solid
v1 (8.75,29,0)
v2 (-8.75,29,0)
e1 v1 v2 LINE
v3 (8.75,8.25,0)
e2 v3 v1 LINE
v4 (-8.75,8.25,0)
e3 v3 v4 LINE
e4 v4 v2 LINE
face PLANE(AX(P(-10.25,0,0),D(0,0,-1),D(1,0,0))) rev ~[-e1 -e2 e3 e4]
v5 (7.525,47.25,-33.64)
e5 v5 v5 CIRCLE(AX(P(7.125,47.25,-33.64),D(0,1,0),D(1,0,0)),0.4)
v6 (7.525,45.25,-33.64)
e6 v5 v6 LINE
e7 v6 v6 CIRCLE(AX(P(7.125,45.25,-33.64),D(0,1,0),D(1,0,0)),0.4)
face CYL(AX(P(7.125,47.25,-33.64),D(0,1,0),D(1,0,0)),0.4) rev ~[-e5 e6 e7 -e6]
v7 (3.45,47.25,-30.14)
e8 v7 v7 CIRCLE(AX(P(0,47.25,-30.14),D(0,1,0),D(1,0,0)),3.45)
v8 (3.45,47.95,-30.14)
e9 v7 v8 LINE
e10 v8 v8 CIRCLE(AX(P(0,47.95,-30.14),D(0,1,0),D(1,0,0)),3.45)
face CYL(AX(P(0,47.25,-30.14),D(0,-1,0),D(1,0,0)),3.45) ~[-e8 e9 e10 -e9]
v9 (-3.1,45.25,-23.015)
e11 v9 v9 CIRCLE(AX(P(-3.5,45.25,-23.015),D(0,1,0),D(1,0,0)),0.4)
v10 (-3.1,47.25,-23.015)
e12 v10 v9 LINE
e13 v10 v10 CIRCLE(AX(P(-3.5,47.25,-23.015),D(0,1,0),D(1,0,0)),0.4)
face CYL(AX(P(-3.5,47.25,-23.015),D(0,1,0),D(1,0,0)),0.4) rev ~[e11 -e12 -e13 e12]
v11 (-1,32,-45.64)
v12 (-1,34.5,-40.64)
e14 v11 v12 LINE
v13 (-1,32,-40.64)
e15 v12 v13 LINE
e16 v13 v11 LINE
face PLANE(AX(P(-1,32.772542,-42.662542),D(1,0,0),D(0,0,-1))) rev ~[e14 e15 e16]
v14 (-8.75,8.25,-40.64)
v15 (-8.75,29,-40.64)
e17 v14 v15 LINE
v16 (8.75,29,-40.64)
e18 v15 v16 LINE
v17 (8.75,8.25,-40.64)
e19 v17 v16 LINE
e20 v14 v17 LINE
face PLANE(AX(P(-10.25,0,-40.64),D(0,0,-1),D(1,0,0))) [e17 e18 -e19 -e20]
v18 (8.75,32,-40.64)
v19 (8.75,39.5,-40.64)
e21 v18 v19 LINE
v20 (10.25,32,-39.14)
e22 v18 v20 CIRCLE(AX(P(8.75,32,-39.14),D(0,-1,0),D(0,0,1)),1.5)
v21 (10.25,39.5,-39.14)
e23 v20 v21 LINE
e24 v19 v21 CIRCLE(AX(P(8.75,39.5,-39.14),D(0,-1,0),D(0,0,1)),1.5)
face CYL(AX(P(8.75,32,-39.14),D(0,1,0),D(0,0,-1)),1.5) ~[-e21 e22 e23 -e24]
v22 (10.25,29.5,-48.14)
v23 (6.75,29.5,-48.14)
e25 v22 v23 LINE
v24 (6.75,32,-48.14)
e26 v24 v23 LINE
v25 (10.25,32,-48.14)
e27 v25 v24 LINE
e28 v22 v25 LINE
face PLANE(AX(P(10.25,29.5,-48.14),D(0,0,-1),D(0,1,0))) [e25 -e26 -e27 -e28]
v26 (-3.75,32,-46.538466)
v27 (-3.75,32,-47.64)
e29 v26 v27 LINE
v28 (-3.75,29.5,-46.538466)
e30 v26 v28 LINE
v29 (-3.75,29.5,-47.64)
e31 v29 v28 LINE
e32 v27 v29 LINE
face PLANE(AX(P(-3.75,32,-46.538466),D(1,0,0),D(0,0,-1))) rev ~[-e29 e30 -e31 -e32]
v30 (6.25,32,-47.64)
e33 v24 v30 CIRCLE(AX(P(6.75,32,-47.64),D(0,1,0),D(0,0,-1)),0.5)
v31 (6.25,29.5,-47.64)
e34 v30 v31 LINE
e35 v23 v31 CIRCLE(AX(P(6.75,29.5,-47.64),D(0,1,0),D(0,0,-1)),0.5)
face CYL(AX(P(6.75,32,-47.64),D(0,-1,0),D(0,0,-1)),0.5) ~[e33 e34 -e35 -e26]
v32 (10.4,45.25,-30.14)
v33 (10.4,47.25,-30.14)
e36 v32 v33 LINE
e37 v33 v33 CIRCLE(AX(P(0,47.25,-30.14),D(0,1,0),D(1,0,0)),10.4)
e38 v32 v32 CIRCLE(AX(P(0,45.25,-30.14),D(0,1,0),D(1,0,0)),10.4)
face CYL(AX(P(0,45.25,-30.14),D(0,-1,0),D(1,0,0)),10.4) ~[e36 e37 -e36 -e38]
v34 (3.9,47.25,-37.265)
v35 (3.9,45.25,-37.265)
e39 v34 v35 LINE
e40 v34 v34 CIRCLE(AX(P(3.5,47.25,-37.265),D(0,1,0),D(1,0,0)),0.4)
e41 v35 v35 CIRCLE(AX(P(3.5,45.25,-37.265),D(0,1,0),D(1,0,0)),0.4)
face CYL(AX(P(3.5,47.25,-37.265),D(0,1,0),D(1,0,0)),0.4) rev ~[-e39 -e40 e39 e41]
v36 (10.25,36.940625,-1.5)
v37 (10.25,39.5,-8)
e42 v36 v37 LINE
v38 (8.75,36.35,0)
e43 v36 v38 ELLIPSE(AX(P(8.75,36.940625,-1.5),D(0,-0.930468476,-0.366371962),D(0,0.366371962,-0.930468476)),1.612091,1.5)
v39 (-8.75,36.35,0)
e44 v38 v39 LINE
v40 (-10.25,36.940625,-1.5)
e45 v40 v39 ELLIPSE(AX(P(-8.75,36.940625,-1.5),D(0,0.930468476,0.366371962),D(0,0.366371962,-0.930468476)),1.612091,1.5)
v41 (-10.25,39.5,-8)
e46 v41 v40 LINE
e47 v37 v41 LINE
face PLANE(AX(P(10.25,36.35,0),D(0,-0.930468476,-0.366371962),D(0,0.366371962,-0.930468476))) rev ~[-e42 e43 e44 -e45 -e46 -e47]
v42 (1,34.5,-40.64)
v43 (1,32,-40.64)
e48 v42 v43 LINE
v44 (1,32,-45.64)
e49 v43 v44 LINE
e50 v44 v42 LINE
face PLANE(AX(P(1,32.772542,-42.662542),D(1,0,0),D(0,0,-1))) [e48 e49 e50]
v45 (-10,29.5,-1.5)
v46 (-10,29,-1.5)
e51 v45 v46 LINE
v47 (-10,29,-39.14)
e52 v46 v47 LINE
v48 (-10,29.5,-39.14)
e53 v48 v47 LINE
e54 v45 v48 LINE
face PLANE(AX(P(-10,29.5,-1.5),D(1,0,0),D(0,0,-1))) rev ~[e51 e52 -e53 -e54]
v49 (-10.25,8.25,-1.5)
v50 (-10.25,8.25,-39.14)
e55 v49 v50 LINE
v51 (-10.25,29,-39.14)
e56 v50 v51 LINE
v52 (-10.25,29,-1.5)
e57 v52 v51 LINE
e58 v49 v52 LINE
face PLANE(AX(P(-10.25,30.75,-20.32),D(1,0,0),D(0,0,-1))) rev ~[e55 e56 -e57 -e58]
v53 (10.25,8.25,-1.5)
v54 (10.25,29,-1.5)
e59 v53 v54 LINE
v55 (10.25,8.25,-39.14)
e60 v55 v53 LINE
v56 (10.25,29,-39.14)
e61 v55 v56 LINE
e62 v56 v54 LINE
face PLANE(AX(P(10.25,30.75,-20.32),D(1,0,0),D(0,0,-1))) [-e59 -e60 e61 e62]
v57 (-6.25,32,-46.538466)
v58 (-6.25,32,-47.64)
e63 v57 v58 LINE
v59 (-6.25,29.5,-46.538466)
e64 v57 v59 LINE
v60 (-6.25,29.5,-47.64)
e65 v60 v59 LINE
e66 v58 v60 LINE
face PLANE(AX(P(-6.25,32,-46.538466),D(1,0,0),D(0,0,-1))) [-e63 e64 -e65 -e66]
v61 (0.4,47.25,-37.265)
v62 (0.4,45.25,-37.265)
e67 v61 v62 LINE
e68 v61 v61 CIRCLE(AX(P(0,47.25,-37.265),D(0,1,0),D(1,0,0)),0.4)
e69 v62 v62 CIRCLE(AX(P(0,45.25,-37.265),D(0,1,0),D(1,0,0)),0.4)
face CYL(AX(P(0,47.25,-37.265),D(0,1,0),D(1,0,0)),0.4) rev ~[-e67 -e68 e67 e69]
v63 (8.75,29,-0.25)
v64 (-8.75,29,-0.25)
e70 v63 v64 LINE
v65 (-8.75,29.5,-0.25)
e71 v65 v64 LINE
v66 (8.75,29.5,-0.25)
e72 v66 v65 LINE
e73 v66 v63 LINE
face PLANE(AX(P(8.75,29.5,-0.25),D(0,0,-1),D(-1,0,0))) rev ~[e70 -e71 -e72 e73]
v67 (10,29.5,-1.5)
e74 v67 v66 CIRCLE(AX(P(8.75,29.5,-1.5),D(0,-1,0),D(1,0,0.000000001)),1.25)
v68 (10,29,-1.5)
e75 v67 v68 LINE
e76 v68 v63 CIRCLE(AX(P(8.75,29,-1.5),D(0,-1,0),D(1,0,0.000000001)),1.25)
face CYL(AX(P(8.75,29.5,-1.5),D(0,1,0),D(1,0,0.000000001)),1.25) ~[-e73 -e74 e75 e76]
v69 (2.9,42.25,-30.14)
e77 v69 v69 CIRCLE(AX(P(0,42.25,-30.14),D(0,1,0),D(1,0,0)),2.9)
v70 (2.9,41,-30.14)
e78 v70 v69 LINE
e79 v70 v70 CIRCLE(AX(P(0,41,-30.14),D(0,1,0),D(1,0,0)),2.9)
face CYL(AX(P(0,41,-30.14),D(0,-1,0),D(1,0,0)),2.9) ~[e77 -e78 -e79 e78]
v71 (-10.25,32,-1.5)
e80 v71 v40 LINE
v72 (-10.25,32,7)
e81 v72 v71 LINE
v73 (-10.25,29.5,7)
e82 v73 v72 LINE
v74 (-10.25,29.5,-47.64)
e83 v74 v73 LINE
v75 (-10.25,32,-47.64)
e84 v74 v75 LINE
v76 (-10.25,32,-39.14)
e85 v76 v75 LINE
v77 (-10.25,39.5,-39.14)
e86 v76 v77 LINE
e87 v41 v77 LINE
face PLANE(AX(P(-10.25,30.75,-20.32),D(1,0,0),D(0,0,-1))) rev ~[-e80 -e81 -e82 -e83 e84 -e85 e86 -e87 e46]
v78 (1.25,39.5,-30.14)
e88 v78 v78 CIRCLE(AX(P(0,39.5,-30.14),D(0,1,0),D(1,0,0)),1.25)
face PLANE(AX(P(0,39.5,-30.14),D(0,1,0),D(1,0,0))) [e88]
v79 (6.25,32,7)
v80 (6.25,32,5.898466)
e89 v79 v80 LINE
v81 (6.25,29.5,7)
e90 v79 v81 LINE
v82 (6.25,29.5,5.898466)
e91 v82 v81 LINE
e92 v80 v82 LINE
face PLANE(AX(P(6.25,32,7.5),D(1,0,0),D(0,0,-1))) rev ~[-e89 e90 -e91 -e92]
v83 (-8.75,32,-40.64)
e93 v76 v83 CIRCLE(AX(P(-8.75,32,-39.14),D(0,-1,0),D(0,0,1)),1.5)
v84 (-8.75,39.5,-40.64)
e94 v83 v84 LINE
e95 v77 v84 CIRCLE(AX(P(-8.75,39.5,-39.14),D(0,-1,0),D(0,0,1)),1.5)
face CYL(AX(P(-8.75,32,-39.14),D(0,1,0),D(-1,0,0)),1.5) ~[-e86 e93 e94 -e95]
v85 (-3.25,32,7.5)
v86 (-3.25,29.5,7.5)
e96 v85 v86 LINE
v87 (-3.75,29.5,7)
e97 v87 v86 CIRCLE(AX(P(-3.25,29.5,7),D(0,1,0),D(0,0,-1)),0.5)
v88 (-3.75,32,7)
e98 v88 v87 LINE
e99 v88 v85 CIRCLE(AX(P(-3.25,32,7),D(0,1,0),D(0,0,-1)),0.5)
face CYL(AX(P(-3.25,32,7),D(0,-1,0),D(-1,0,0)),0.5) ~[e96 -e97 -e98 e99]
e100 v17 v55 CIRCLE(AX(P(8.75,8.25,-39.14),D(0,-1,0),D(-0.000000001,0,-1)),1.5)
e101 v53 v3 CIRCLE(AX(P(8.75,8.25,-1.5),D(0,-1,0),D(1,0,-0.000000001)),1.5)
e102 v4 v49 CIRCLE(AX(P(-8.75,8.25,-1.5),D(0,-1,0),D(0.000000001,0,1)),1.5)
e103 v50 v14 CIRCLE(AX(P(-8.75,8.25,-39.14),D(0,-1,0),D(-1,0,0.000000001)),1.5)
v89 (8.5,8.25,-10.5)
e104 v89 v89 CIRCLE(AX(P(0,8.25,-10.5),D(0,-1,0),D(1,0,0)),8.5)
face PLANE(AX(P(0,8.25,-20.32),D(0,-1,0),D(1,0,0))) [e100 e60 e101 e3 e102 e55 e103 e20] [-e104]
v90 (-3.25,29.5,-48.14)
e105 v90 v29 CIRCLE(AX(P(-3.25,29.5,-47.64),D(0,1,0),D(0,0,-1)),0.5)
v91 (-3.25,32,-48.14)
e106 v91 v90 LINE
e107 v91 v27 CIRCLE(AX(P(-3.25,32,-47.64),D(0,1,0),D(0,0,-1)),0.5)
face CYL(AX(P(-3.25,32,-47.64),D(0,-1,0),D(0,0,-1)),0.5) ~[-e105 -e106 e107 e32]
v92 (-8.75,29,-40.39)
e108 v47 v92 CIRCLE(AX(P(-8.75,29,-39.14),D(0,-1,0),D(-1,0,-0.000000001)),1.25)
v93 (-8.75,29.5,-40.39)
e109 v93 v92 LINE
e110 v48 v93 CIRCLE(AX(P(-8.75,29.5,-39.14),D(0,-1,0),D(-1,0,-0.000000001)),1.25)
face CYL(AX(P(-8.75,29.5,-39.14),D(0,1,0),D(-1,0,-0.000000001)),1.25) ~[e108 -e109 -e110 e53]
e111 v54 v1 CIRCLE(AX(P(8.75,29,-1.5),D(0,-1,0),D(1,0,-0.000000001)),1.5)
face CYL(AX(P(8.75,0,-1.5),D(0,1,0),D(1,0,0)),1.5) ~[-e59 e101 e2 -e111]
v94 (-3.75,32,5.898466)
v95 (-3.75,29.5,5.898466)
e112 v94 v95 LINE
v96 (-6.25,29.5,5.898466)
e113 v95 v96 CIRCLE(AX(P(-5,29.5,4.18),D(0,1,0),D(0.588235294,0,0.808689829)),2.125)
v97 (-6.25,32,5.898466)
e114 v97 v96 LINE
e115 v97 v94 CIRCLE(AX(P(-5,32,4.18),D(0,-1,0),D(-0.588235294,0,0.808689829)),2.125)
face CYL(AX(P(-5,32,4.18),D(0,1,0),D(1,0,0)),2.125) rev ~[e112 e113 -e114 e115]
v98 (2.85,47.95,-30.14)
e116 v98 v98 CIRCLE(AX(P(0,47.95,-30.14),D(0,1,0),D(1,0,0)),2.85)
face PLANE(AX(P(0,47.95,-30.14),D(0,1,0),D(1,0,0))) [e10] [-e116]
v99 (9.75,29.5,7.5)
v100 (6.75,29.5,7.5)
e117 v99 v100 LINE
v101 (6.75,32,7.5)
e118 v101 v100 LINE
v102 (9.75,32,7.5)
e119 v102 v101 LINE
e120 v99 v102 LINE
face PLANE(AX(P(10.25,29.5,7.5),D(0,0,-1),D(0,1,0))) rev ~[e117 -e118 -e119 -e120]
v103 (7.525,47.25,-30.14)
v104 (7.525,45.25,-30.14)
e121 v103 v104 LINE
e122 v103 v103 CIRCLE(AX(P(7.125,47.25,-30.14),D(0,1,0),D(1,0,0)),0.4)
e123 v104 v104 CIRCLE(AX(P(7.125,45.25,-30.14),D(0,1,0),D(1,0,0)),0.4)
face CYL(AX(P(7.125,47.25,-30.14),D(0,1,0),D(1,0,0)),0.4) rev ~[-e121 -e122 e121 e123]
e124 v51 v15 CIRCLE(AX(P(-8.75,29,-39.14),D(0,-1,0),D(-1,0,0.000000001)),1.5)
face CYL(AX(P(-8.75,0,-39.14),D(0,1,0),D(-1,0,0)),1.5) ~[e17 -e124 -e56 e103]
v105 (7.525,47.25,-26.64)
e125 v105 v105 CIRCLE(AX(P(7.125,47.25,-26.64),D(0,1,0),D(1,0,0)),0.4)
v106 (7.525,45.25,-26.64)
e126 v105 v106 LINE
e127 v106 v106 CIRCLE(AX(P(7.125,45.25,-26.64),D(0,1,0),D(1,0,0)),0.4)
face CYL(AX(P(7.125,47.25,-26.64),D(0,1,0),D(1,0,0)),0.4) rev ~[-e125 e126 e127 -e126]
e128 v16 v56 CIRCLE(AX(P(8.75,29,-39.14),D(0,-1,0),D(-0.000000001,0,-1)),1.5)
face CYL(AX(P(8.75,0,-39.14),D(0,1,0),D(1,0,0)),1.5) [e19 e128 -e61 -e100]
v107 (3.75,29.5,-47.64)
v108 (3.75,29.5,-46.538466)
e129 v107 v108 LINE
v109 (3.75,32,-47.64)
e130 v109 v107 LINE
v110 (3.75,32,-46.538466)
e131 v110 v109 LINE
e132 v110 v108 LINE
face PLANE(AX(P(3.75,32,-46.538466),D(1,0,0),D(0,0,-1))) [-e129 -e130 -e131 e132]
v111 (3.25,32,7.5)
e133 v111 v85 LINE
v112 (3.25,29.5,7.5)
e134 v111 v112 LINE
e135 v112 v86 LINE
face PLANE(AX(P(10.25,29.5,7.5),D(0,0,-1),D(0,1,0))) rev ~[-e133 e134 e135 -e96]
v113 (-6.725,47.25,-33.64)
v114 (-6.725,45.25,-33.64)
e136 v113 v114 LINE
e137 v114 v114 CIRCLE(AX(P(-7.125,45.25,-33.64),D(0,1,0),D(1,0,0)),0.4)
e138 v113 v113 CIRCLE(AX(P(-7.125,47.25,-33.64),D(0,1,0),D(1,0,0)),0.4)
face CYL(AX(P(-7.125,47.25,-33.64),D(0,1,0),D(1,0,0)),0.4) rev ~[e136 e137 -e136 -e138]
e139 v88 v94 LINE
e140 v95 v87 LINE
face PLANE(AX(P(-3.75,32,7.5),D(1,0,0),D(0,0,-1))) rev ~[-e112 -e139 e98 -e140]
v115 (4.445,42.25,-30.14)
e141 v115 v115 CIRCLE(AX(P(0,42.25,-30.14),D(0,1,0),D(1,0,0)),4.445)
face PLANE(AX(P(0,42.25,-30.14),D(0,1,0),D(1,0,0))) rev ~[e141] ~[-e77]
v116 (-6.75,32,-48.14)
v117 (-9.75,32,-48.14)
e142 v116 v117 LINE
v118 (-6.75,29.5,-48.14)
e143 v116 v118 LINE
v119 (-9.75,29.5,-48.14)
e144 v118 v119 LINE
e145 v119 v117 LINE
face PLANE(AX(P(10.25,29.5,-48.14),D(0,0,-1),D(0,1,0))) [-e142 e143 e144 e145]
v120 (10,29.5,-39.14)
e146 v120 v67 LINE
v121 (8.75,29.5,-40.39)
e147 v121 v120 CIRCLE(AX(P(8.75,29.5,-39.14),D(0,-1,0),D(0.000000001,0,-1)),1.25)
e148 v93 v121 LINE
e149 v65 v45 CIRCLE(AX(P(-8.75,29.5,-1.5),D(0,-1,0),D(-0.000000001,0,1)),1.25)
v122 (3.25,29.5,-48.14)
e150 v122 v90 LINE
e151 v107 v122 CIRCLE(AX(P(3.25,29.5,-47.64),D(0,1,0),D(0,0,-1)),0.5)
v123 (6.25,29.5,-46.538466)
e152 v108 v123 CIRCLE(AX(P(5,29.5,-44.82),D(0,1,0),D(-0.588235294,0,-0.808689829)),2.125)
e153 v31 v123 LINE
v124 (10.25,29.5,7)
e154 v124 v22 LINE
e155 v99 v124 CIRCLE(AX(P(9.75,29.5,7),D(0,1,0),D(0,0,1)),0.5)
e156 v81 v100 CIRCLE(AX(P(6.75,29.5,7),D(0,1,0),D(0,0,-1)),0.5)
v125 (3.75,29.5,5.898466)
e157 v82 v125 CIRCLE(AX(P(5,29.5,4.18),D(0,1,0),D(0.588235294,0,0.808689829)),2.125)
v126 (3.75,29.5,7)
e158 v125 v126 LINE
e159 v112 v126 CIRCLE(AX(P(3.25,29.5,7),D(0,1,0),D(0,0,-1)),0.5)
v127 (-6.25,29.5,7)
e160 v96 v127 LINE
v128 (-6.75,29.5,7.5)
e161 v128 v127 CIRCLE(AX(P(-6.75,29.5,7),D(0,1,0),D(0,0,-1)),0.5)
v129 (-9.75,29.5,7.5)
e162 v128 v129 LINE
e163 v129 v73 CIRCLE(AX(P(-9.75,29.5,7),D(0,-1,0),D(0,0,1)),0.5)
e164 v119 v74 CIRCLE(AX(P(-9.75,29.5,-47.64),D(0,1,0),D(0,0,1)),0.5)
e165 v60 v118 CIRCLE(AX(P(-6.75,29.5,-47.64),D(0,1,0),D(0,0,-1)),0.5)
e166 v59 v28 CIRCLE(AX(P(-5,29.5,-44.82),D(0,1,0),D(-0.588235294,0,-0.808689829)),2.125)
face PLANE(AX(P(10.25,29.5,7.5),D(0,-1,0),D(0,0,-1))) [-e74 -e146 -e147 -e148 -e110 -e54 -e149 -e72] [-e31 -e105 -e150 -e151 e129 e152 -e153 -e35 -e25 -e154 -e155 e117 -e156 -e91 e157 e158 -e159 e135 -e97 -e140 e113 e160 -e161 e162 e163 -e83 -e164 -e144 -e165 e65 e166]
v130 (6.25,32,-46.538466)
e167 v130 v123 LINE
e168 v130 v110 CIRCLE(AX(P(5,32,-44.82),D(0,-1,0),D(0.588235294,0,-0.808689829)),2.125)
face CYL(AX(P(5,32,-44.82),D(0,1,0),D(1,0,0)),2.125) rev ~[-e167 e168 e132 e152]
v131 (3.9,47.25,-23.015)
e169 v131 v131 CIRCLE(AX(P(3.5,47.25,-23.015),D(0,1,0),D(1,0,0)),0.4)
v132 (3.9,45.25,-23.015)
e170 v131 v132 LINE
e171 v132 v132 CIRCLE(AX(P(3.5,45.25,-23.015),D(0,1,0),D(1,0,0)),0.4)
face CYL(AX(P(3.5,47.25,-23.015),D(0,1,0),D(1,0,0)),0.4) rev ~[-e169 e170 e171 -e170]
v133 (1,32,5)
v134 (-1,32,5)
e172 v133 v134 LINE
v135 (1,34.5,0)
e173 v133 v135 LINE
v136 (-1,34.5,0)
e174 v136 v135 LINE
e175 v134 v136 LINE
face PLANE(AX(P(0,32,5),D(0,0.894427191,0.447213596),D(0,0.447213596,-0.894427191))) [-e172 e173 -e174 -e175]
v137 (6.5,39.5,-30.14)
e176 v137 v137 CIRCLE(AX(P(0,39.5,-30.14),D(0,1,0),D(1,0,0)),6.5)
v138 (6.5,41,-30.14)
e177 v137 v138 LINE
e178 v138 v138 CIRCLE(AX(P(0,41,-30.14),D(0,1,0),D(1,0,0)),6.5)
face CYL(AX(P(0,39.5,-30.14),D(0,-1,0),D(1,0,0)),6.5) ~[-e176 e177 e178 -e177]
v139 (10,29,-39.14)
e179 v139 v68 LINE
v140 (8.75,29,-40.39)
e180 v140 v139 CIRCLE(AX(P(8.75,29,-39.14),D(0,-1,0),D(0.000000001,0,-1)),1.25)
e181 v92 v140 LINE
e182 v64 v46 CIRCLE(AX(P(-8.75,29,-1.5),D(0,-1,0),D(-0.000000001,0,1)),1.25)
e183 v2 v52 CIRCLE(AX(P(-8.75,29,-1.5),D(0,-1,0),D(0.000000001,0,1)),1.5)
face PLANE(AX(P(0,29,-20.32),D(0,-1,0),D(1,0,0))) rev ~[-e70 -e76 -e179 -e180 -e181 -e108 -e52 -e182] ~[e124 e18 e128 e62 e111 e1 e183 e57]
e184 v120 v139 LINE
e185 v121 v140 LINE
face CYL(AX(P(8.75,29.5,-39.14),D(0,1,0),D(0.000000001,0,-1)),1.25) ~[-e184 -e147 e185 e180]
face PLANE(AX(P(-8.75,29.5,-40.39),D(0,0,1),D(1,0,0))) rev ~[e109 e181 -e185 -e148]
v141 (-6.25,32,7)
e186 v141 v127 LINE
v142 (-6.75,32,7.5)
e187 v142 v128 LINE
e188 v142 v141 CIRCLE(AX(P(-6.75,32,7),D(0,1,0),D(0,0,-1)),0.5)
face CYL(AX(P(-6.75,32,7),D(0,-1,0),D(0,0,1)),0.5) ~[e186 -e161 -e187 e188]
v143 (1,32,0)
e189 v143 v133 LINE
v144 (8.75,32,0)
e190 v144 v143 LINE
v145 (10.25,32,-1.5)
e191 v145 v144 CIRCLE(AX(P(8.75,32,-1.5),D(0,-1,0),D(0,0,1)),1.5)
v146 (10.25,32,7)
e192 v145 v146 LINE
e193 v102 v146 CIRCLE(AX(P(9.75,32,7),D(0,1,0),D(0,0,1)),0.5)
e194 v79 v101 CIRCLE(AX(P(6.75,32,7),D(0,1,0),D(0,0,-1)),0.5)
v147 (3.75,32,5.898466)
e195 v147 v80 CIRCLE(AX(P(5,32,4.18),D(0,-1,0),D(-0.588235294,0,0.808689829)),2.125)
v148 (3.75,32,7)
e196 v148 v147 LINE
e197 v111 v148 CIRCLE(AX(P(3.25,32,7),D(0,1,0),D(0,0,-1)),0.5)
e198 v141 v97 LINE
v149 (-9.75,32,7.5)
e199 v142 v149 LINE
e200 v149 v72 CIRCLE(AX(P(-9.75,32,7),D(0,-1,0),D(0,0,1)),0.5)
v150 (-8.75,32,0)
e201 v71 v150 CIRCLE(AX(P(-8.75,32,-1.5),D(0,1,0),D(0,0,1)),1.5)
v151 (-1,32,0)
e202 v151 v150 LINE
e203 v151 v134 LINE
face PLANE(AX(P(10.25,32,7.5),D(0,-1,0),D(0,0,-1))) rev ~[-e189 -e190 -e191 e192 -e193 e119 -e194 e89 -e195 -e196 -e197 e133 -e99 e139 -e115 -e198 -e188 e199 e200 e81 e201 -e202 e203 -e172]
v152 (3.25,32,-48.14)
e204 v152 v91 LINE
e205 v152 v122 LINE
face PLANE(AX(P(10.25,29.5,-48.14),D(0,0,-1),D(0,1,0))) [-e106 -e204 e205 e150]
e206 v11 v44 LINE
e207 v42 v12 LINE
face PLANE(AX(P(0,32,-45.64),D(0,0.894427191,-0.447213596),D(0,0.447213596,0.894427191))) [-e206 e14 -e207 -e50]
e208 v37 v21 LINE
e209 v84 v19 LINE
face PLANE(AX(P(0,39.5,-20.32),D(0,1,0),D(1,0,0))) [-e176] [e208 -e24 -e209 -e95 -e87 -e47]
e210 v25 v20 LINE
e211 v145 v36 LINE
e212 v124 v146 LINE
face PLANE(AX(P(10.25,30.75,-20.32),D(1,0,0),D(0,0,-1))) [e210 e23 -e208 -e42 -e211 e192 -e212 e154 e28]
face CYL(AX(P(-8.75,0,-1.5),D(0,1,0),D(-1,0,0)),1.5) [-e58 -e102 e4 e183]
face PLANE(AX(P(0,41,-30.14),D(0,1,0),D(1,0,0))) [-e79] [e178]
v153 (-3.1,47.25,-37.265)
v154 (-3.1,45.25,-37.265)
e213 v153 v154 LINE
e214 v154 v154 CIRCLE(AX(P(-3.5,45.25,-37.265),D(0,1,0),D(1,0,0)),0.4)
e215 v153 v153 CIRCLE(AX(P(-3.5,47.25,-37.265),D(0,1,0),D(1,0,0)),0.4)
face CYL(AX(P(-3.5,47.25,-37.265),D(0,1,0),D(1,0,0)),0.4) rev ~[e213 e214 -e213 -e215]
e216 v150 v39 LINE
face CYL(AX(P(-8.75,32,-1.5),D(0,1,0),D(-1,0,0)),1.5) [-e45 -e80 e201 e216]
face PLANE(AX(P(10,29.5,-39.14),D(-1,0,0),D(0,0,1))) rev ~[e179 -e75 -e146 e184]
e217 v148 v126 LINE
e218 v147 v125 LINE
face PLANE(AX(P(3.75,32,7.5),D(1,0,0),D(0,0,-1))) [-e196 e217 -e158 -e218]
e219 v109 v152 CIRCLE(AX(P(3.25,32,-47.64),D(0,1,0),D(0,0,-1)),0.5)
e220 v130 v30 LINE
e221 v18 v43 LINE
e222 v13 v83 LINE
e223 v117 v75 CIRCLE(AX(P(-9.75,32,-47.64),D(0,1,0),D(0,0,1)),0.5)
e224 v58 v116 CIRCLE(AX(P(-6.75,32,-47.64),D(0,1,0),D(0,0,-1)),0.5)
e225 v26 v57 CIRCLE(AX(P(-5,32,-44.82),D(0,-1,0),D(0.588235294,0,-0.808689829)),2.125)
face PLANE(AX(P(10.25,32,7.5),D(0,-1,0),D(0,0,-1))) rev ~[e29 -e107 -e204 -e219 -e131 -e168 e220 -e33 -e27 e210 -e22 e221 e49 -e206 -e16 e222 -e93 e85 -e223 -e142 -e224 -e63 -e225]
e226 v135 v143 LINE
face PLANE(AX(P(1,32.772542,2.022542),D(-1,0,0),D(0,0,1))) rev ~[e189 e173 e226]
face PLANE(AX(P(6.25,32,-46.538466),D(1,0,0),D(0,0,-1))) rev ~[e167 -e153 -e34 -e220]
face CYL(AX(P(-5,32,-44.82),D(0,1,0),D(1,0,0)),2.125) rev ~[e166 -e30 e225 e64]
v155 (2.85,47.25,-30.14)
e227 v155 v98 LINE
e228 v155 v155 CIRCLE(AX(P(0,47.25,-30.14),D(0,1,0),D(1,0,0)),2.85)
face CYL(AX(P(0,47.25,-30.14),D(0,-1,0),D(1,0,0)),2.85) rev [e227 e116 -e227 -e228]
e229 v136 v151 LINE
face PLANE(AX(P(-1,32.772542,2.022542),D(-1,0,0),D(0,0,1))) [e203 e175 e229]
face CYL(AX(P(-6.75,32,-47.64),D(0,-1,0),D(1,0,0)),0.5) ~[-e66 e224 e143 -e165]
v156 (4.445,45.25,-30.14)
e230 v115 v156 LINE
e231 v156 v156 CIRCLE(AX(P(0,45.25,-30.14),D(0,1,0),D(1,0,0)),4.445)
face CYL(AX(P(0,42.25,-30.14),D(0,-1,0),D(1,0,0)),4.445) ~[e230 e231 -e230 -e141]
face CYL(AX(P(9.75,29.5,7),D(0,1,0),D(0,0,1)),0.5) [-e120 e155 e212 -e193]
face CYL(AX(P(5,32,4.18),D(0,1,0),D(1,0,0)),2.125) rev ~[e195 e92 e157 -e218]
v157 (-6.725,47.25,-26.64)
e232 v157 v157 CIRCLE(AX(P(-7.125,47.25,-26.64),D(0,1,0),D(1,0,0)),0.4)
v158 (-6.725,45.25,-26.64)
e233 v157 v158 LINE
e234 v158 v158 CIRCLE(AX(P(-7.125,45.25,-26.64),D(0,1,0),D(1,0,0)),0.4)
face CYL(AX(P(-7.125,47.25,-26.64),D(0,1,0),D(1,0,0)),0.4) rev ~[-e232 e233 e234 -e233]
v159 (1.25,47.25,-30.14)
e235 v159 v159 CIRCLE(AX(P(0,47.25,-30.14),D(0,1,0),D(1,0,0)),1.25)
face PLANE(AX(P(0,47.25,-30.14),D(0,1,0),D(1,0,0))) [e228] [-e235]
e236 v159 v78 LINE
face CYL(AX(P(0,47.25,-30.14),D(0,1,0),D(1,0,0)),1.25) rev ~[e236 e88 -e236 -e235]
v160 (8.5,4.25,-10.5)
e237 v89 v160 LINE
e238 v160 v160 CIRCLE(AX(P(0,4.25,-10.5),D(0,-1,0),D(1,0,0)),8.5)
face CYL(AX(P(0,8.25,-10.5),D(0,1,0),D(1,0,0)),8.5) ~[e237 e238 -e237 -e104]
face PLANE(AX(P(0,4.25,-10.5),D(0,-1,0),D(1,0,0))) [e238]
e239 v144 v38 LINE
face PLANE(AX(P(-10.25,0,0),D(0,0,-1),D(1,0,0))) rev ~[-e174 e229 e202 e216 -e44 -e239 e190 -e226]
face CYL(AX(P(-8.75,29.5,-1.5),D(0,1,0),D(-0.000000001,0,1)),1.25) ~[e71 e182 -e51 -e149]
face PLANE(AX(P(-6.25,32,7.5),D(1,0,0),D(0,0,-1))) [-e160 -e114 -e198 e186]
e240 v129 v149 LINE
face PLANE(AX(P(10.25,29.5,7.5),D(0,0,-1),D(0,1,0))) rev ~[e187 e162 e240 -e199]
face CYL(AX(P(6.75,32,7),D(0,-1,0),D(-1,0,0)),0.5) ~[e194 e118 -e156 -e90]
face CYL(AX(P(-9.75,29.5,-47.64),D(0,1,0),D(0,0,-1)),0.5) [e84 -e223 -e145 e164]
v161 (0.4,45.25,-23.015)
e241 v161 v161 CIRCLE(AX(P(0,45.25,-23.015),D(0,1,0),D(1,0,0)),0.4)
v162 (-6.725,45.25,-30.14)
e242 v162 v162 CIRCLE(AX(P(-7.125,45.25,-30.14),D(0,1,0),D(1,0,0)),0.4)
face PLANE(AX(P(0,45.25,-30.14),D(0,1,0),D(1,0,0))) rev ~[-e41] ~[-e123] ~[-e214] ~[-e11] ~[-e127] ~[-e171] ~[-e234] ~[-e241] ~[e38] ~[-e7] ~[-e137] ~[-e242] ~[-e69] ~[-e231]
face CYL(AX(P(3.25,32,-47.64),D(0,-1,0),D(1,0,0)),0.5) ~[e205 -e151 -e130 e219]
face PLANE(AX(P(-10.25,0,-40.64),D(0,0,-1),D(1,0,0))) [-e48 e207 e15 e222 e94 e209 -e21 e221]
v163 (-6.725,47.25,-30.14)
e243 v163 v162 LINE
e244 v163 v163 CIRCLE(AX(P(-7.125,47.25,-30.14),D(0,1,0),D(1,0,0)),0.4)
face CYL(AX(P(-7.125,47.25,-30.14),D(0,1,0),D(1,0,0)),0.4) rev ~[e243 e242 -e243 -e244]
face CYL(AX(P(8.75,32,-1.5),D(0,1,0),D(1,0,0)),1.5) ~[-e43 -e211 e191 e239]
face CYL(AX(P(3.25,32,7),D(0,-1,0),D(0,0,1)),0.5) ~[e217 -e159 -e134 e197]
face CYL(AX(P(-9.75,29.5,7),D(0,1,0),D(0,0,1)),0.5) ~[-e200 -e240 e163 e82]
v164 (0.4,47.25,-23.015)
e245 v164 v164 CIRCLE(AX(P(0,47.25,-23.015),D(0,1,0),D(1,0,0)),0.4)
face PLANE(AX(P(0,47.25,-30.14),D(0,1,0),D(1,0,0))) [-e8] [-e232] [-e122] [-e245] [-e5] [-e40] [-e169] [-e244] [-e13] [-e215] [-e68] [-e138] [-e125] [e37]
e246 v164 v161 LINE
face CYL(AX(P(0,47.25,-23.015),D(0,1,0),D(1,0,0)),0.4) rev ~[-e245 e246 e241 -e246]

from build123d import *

# Parameters (mm, degrees)
SKETCH1_W           = 20.5
SKETCH1_H           = 40.64
BOSS_EXTRUDE1_DEPTH = 39.5
CUT_EXTRUDE1_DEPTH  = 21.5
SKETCH3_W           = 55.64
SKETCH3_H           = 2.5
BOSS_EXTRUDE2_DEPTH = 20.5
SKETCH4_R           = 2.125
CUT_EXTRUDE2_DEPTH  = 33
SKETCH5_W           = 2.5
SKETCH5_H           = 1.601534114
CUT_EXTRUDE3_DEPTH  = 33
BOSS_EXTRUDE3_DEPTH = 1
SKETCH7_R           = 6.5
BOSS_EXTRUDE4_DEPTH = 1.5
SKETCH8_R           = 2.9
BOSS_EXTRUDE5_DEPTH = 1.25
SKETCH9_R           = 4.445
BOSS_EXTRUDE6_DEPTH = 3
SKETCH10_R          = 10.4
BOSS_EXTRUDE7_DEPTH = 2
SKETCH11_R          = 1.25
CUT_EXTRUDE4_DEPTH  = 7.75
SKETCH12_R          = 3.45
SKETCH12_R_2        = 2.85
BOSS_EXTRUDE8_DEPTH = 0.7
SKETCH13_R          = 0.4
CUT_EXTRUDE5_DEPTH  = 2
FILLET1_R           = 1.5
FILLET2_R           = 0.5
CUT_EXTRUDE6_START  = -7.75
CUT_EXTRUDE6_DEPTH  = 0.5
CUT_EXTRUDE7_DEPTH  = 0.5
SKETCH16_W          = 50.439593456
SKETCH16_H          = 8.25
CUT_EXTRUDE8_DEPTH  = 21.65
SKETCH17_R          = 8.5
BOSS_EXTRUDE9_DEPTH = 4


with BuildPart() as part:
    # Sketch1 → Boss-Extrude1 (new body)
    with BuildSketch(Plane(origin=(0, 0, 0), x_dir=(1, 0, 0), z_dir=(0, 1, 0))):
        with Locations((0, 20.32)):
            Rectangle(SKETCH1_W, SKETCH1_H)
    extrude(amount=BOSS_EXTRUDE1_DEPTH)

    # Sketch2 → Cut-Extrude1 (cut, through all)
    with BuildSketch(Plane(origin=(10.25, 0, 0), x_dir=(0, 0, -1), z_dir=(1, 0, 0))):
        Polygon((0, 39.5), (0, 36.35), (8, 39.5), align=None)
    extrude(amount=-CUT_EXTRUDE1_DEPTH, mode=Mode.SUBTRACT)

    # Sketch3 → Boss-Extrude2 (add)
    with BuildSketch(Plane(origin=(10.25, 0, 0), x_dir=(0, 0, -1), z_dir=(1, 0, 0))):
        with Locations((20.32, 30.75)):
            Rectangle(SKETCH3_W, SKETCH3_H)
    extrude(amount=-BOSS_EXTRUDE2_DEPTH)

    # Sketch4 → Cut-Extrude2 (cut, through all)
    with BuildSketch(Plane(origin=(0, 32, 0), x_dir=(1, 0, 0), z_dir=(0, 1, 0))):
        with Locations((-5, -4.18)):
            Circle(SKETCH4_R)
        with Locations((5, -4.18)):
            Circle(SKETCH4_R)
        with Locations((5, 44.82)):
            Circle(SKETCH4_R)
        with Locations((-5, 44.82)):
            Circle(SKETCH4_R)
    extrude(amount=-CUT_EXTRUDE2_DEPTH, mode=Mode.SUBTRACT)

    # Sketch5 → Cut-Extrude3 (cut, through all)
    with BuildSketch(Plane(origin=(0, 32, 0), x_dir=(1, 0, 0), z_dir=(0, 1, 0))):
        with Locations((5, -6.699232943)):
            Rectangle(SKETCH5_W, SKETCH5_H)
        with Locations((-5, -6.699232943)):
            Rectangle(SKETCH5_W, SKETCH5_H)
        with Locations((-5, 47.339232943)):
            Rectangle(SKETCH5_W, SKETCH5_H)
        with Locations((5, 47.339232943)):
            Rectangle(SKETCH5_W, SKETCH5_H)
    extrude(amount=-CUT_EXTRUDE3_DEPTH, mode=Mode.SUBTRACT)

    # Sketch6 → Boss-Extrude3 (add, symmetric)
    with BuildSketch(Plane(origin=(0, 0, 0), x_dir=(0, 0, -1), z_dir=(1, 0, 0))):
        Polygon((0, 32), (-5, 32), (0, 34.5), align=None)
        Polygon((40.64, 32), (45.64, 32), (40.64, 34.5), align=None)
    extrude(amount=BOSS_EXTRUDE3_DEPTH, both=True)

    # Sketch7 → Boss-Extrude4 (add)
    with BuildSketch(Plane(origin=(0, 39.5, 0), x_dir=(1, 0, 0), z_dir=(0, 1, 0))):
        with Locations((0, 30.14)):
            Circle(SKETCH7_R)
    extrude(amount=BOSS_EXTRUDE4_DEPTH)

    # Sketch8 → Boss-Extrude5 (add)
    with BuildSketch(Plane(origin=(0, 41, 0), x_dir=(1, 0, 0), z_dir=(0, 1, 0))):
        with Locations((0, 30.14)):
            Circle(SKETCH8_R)
    extrude(amount=BOSS_EXTRUDE5_DEPTH)

    # Sketch9 → Boss-Extrude6 (add)
    with BuildSketch(Plane(origin=(0, 42.25, 0), x_dir=(1, 0, 0), z_dir=(0, 1, 0))):
        with Locations((0, 30.14)):
            Circle(SKETCH9_R)
    extrude(amount=BOSS_EXTRUDE6_DEPTH)

    # Sketch10 → Boss-Extrude7 (add)
    with BuildSketch(Plane(origin=(0, 45.25, 0), x_dir=(1, 0, 0), z_dir=(0, 1, 0))):
        with Locations((0, 30.14)):
            Circle(SKETCH10_R)
    extrude(amount=BOSS_EXTRUDE7_DEPTH)

    # Sketch11 → Cut-Extrude4 (cut)
    with BuildSketch(Plane(origin=(0, 47.25, 0), x_dir=(1, 0, 0), z_dir=(0, 1, 0))):
        with Locations((0, 30.14)):
            Circle(SKETCH11_R)
    extrude(amount=-CUT_EXTRUDE4_DEPTH, mode=Mode.SUBTRACT)

    # Sketch12 → Boss-Extrude8 (add)
    with BuildSketch(Plane(origin=(0, 47.25, 0), x_dir=(1, 0, 0), z_dir=(0, 1, 0))):
        with Locations((0, 30.14)):
            Circle(SKETCH12_R)
        with Locations((0, 30.14)):
            Circle(SKETCH12_R_2, mode=Mode.SUBTRACT)
    extrude(amount=BOSS_EXTRUDE8_DEPTH)

    # Sketch13 → Cut-Extrude5 (cut)
    with BuildSketch(Plane(origin=(0, 47.25, 0), x_dir=(1, 0, 0), z_dir=(0, 1, 0))):
        with Locations((0, 37.265)):
            Circle(SKETCH13_R)
        with Locations((3.5, 37.265)):
            Circle(SKETCH13_R)
        with Locations((-3.5, 37.265)):
            Circle(SKETCH13_R)
        with Locations((7.125, 26.64)):
            Circle(SKETCH13_R)
        with Locations((7.125, 30.14)):
            Circle(SKETCH13_R)
        with Locations((7.125, 33.64)):
            Circle(SKETCH13_R)
        with Locations((-3.5, 23.015)):
            Circle(SKETCH13_R)
        with Locations((0, 23.015)):
            Circle(SKETCH13_R)
        with Locations((3.5, 23.015)):
            Circle(SKETCH13_R)
        with Locations((-7.125, 33.64)):
            Circle(SKETCH13_R)
        with Locations((-7.125, 30.14)):
            Circle(SKETCH13_R)
        with Locations((-7.125, 26.64)):
            Circle(SKETCH13_R)
    extrude(amount=-CUT_EXTRUDE5_DEPTH, mode=Mode.SUBTRACT)

    # Fillet1
    fillet1_edges = [part.edges().sort_by_distance(p)[0] for p in [
        (10.25, 34.175, 0),
        (-10.25, 34.175, 0),
        (-10.25, 14.75, -40.64),
        (10.25, 14.75, -40.64),
        (10.25, 14.75, 0),
        (-10.25, 14.75, 0),
        (-10.25, 35.75, -40.64),
        (10.25, 35.75, -40.64),
    ]]
    fillet(fillet1_edges, radius=FILLET1_R)

    # Fillet2
    fillet2_edges = [part.edges().sort_by_distance(p)[0] for p in [
        (-3.75, 30.75, -48.14),
        (-6.25, 30.75, -48.14),
        (3.75, 30.75, -48.14),
        (6.25, 30.75, -48.14),
        (10.25, 30.75, 7.5),
        (-10.25, 30.75, 7.5),
        (-10.25, 30.75, -48.14),
        (-3.75, 30.75, 7.5),
        (-6.25, 30.75, 7.5),
        (3.75, 30.75, 7.5),
        (6.25, 30.75, 7.5),
    ]]
    fillet(fillet2_edges, radius=FILLET2_R)

    # Sketch14 → Cut-Extrude6 (cut)
    with BuildSketch(Plane.XZ.offset(CUT_EXTRUDE6_START)):
        with BuildLine():
            Line((-8.75, -40.64), (8.75, -40.64))
            ThreePointArc((8.75, -40.64), (9.810660172, -40.200660172), (10.25, -39.14))
            Line((10.25, -39.14), (10.25, -1.5))
            ThreePointArc((10.25, -1.5), (9.810660172, -0.439339828), (8.75, 0))
            Line((8.75, 0), (-8.75, 0))
            ThreePointArc((-8.75, 0), (-9.810660172, -0.439339828), (-10.25, -1.5))
            Line((-10.25, -1.5), (-10.25, -39.14))
            ThreePointArc((-10.25, -39.14), (-9.810660172, -40.200660172), (-8.75, -40.64))
        make_face()
        with BuildLine():
            Line((8.75, -0.25), (-8.75, -0.25))
            ThreePointArc((-8.75, -0.25), (-9.633883476, -0.616116524), (-10, -1.5))
            Line((-10, -1.5), (-10, -39.14))
            ThreePointArc((-10, -39.14), (-9.633883476, -40.023883476), (-8.75, -40.39))
            Line((-8.75, -40.39), (8.75, -40.39))
            ThreePointArc((8.75, -40.39), (9.633883476, -40.023883476), (10, -39.14))
            Line((10, -39.14), (10, -1.5))
            ThreePointArc((10, -1.5), (9.633883476, -0.616116524), (8.75, -0.25))
        make_face(mode=Mode.SUBTRACT)
    extrude(amount=-CUT_EXTRUDE6_DEPTH, mode=Mode.SUBTRACT)

    # Sketch15 → Cut-Extrude7 (cut)
    with BuildSketch(Plane.XZ.offset(-29.5)):
        with BuildLine():
            Line((-8.75, -40.64), (8.75, -40.64))
            ThreePointArc((8.75, -40.64), (9.810660172, -40.200660172), (10.25, -39.14))
            Line((10.25, -39.14), (10.25, -1.5))
            ThreePointArc((10.25, -1.5), (9.810660172, -0.439339828), (8.75, 0))
            Line((8.75, 0), (-8.75, 0))
            ThreePointArc((-8.75, 0), (-9.810660172, -0.439339828), (-10.25, -1.5))
            Line((-10.25, -1.5), (-10.25, -39.14))
            ThreePointArc((-10.25, -39.14), (-9.810660172, -40.200660172), (-8.75, -40.64))
        make_face()
        with BuildLine():
            Line((10, -39.14), (10, -1.5))
            ThreePointArc((10, -1.5), (9.633883476, -0.616116524), (8.75, -0.25))
            Line((8.75, -0.25), (-8.75, -0.25))
            ThreePointArc((-8.75, -0.25), (-9.633883476, -0.616116524), (-10, -1.5))
            Line((-10, -1.5), (-10, -39.14))
            ThreePointArc((-10, -39.14), (-9.633883476, -40.023883476), (-8.75, -40.39))
            Line((-8.75, -40.39), (8.75, -40.39))
            ThreePointArc((8.75, -40.39), (9.633883476, -40.023883476), (10, -39.14))
        make_face(mode=Mode.SUBTRACT)
    extrude(amount=CUT_EXTRUDE7_DEPTH, mode=Mode.SUBTRACT)

    # Sketch16 → Cut-Extrude8 (cut, through all)
    with BuildSketch(Plane(origin=(10.25, 0, 0), x_dir=(0, 0, -1), z_dir=(1, 0, 0))):
        with Locations((25.219796728, 4.125)):
            Rectangle(SKETCH16_W, SKETCH16_H)
    extrude(amount=-CUT_EXTRUDE8_DEPTH, mode=Mode.SUBTRACT)

    # Sketch17 → Boss-Extrude9 (add)
    with BuildSketch(Plane.XZ.offset(-8.25)):
        with Locations((0, -10.5)):
            Circle(SKETCH17_R)
    extrude(amount=BOSS_EXTRUDE9_DEPTH)


solid = part.part
